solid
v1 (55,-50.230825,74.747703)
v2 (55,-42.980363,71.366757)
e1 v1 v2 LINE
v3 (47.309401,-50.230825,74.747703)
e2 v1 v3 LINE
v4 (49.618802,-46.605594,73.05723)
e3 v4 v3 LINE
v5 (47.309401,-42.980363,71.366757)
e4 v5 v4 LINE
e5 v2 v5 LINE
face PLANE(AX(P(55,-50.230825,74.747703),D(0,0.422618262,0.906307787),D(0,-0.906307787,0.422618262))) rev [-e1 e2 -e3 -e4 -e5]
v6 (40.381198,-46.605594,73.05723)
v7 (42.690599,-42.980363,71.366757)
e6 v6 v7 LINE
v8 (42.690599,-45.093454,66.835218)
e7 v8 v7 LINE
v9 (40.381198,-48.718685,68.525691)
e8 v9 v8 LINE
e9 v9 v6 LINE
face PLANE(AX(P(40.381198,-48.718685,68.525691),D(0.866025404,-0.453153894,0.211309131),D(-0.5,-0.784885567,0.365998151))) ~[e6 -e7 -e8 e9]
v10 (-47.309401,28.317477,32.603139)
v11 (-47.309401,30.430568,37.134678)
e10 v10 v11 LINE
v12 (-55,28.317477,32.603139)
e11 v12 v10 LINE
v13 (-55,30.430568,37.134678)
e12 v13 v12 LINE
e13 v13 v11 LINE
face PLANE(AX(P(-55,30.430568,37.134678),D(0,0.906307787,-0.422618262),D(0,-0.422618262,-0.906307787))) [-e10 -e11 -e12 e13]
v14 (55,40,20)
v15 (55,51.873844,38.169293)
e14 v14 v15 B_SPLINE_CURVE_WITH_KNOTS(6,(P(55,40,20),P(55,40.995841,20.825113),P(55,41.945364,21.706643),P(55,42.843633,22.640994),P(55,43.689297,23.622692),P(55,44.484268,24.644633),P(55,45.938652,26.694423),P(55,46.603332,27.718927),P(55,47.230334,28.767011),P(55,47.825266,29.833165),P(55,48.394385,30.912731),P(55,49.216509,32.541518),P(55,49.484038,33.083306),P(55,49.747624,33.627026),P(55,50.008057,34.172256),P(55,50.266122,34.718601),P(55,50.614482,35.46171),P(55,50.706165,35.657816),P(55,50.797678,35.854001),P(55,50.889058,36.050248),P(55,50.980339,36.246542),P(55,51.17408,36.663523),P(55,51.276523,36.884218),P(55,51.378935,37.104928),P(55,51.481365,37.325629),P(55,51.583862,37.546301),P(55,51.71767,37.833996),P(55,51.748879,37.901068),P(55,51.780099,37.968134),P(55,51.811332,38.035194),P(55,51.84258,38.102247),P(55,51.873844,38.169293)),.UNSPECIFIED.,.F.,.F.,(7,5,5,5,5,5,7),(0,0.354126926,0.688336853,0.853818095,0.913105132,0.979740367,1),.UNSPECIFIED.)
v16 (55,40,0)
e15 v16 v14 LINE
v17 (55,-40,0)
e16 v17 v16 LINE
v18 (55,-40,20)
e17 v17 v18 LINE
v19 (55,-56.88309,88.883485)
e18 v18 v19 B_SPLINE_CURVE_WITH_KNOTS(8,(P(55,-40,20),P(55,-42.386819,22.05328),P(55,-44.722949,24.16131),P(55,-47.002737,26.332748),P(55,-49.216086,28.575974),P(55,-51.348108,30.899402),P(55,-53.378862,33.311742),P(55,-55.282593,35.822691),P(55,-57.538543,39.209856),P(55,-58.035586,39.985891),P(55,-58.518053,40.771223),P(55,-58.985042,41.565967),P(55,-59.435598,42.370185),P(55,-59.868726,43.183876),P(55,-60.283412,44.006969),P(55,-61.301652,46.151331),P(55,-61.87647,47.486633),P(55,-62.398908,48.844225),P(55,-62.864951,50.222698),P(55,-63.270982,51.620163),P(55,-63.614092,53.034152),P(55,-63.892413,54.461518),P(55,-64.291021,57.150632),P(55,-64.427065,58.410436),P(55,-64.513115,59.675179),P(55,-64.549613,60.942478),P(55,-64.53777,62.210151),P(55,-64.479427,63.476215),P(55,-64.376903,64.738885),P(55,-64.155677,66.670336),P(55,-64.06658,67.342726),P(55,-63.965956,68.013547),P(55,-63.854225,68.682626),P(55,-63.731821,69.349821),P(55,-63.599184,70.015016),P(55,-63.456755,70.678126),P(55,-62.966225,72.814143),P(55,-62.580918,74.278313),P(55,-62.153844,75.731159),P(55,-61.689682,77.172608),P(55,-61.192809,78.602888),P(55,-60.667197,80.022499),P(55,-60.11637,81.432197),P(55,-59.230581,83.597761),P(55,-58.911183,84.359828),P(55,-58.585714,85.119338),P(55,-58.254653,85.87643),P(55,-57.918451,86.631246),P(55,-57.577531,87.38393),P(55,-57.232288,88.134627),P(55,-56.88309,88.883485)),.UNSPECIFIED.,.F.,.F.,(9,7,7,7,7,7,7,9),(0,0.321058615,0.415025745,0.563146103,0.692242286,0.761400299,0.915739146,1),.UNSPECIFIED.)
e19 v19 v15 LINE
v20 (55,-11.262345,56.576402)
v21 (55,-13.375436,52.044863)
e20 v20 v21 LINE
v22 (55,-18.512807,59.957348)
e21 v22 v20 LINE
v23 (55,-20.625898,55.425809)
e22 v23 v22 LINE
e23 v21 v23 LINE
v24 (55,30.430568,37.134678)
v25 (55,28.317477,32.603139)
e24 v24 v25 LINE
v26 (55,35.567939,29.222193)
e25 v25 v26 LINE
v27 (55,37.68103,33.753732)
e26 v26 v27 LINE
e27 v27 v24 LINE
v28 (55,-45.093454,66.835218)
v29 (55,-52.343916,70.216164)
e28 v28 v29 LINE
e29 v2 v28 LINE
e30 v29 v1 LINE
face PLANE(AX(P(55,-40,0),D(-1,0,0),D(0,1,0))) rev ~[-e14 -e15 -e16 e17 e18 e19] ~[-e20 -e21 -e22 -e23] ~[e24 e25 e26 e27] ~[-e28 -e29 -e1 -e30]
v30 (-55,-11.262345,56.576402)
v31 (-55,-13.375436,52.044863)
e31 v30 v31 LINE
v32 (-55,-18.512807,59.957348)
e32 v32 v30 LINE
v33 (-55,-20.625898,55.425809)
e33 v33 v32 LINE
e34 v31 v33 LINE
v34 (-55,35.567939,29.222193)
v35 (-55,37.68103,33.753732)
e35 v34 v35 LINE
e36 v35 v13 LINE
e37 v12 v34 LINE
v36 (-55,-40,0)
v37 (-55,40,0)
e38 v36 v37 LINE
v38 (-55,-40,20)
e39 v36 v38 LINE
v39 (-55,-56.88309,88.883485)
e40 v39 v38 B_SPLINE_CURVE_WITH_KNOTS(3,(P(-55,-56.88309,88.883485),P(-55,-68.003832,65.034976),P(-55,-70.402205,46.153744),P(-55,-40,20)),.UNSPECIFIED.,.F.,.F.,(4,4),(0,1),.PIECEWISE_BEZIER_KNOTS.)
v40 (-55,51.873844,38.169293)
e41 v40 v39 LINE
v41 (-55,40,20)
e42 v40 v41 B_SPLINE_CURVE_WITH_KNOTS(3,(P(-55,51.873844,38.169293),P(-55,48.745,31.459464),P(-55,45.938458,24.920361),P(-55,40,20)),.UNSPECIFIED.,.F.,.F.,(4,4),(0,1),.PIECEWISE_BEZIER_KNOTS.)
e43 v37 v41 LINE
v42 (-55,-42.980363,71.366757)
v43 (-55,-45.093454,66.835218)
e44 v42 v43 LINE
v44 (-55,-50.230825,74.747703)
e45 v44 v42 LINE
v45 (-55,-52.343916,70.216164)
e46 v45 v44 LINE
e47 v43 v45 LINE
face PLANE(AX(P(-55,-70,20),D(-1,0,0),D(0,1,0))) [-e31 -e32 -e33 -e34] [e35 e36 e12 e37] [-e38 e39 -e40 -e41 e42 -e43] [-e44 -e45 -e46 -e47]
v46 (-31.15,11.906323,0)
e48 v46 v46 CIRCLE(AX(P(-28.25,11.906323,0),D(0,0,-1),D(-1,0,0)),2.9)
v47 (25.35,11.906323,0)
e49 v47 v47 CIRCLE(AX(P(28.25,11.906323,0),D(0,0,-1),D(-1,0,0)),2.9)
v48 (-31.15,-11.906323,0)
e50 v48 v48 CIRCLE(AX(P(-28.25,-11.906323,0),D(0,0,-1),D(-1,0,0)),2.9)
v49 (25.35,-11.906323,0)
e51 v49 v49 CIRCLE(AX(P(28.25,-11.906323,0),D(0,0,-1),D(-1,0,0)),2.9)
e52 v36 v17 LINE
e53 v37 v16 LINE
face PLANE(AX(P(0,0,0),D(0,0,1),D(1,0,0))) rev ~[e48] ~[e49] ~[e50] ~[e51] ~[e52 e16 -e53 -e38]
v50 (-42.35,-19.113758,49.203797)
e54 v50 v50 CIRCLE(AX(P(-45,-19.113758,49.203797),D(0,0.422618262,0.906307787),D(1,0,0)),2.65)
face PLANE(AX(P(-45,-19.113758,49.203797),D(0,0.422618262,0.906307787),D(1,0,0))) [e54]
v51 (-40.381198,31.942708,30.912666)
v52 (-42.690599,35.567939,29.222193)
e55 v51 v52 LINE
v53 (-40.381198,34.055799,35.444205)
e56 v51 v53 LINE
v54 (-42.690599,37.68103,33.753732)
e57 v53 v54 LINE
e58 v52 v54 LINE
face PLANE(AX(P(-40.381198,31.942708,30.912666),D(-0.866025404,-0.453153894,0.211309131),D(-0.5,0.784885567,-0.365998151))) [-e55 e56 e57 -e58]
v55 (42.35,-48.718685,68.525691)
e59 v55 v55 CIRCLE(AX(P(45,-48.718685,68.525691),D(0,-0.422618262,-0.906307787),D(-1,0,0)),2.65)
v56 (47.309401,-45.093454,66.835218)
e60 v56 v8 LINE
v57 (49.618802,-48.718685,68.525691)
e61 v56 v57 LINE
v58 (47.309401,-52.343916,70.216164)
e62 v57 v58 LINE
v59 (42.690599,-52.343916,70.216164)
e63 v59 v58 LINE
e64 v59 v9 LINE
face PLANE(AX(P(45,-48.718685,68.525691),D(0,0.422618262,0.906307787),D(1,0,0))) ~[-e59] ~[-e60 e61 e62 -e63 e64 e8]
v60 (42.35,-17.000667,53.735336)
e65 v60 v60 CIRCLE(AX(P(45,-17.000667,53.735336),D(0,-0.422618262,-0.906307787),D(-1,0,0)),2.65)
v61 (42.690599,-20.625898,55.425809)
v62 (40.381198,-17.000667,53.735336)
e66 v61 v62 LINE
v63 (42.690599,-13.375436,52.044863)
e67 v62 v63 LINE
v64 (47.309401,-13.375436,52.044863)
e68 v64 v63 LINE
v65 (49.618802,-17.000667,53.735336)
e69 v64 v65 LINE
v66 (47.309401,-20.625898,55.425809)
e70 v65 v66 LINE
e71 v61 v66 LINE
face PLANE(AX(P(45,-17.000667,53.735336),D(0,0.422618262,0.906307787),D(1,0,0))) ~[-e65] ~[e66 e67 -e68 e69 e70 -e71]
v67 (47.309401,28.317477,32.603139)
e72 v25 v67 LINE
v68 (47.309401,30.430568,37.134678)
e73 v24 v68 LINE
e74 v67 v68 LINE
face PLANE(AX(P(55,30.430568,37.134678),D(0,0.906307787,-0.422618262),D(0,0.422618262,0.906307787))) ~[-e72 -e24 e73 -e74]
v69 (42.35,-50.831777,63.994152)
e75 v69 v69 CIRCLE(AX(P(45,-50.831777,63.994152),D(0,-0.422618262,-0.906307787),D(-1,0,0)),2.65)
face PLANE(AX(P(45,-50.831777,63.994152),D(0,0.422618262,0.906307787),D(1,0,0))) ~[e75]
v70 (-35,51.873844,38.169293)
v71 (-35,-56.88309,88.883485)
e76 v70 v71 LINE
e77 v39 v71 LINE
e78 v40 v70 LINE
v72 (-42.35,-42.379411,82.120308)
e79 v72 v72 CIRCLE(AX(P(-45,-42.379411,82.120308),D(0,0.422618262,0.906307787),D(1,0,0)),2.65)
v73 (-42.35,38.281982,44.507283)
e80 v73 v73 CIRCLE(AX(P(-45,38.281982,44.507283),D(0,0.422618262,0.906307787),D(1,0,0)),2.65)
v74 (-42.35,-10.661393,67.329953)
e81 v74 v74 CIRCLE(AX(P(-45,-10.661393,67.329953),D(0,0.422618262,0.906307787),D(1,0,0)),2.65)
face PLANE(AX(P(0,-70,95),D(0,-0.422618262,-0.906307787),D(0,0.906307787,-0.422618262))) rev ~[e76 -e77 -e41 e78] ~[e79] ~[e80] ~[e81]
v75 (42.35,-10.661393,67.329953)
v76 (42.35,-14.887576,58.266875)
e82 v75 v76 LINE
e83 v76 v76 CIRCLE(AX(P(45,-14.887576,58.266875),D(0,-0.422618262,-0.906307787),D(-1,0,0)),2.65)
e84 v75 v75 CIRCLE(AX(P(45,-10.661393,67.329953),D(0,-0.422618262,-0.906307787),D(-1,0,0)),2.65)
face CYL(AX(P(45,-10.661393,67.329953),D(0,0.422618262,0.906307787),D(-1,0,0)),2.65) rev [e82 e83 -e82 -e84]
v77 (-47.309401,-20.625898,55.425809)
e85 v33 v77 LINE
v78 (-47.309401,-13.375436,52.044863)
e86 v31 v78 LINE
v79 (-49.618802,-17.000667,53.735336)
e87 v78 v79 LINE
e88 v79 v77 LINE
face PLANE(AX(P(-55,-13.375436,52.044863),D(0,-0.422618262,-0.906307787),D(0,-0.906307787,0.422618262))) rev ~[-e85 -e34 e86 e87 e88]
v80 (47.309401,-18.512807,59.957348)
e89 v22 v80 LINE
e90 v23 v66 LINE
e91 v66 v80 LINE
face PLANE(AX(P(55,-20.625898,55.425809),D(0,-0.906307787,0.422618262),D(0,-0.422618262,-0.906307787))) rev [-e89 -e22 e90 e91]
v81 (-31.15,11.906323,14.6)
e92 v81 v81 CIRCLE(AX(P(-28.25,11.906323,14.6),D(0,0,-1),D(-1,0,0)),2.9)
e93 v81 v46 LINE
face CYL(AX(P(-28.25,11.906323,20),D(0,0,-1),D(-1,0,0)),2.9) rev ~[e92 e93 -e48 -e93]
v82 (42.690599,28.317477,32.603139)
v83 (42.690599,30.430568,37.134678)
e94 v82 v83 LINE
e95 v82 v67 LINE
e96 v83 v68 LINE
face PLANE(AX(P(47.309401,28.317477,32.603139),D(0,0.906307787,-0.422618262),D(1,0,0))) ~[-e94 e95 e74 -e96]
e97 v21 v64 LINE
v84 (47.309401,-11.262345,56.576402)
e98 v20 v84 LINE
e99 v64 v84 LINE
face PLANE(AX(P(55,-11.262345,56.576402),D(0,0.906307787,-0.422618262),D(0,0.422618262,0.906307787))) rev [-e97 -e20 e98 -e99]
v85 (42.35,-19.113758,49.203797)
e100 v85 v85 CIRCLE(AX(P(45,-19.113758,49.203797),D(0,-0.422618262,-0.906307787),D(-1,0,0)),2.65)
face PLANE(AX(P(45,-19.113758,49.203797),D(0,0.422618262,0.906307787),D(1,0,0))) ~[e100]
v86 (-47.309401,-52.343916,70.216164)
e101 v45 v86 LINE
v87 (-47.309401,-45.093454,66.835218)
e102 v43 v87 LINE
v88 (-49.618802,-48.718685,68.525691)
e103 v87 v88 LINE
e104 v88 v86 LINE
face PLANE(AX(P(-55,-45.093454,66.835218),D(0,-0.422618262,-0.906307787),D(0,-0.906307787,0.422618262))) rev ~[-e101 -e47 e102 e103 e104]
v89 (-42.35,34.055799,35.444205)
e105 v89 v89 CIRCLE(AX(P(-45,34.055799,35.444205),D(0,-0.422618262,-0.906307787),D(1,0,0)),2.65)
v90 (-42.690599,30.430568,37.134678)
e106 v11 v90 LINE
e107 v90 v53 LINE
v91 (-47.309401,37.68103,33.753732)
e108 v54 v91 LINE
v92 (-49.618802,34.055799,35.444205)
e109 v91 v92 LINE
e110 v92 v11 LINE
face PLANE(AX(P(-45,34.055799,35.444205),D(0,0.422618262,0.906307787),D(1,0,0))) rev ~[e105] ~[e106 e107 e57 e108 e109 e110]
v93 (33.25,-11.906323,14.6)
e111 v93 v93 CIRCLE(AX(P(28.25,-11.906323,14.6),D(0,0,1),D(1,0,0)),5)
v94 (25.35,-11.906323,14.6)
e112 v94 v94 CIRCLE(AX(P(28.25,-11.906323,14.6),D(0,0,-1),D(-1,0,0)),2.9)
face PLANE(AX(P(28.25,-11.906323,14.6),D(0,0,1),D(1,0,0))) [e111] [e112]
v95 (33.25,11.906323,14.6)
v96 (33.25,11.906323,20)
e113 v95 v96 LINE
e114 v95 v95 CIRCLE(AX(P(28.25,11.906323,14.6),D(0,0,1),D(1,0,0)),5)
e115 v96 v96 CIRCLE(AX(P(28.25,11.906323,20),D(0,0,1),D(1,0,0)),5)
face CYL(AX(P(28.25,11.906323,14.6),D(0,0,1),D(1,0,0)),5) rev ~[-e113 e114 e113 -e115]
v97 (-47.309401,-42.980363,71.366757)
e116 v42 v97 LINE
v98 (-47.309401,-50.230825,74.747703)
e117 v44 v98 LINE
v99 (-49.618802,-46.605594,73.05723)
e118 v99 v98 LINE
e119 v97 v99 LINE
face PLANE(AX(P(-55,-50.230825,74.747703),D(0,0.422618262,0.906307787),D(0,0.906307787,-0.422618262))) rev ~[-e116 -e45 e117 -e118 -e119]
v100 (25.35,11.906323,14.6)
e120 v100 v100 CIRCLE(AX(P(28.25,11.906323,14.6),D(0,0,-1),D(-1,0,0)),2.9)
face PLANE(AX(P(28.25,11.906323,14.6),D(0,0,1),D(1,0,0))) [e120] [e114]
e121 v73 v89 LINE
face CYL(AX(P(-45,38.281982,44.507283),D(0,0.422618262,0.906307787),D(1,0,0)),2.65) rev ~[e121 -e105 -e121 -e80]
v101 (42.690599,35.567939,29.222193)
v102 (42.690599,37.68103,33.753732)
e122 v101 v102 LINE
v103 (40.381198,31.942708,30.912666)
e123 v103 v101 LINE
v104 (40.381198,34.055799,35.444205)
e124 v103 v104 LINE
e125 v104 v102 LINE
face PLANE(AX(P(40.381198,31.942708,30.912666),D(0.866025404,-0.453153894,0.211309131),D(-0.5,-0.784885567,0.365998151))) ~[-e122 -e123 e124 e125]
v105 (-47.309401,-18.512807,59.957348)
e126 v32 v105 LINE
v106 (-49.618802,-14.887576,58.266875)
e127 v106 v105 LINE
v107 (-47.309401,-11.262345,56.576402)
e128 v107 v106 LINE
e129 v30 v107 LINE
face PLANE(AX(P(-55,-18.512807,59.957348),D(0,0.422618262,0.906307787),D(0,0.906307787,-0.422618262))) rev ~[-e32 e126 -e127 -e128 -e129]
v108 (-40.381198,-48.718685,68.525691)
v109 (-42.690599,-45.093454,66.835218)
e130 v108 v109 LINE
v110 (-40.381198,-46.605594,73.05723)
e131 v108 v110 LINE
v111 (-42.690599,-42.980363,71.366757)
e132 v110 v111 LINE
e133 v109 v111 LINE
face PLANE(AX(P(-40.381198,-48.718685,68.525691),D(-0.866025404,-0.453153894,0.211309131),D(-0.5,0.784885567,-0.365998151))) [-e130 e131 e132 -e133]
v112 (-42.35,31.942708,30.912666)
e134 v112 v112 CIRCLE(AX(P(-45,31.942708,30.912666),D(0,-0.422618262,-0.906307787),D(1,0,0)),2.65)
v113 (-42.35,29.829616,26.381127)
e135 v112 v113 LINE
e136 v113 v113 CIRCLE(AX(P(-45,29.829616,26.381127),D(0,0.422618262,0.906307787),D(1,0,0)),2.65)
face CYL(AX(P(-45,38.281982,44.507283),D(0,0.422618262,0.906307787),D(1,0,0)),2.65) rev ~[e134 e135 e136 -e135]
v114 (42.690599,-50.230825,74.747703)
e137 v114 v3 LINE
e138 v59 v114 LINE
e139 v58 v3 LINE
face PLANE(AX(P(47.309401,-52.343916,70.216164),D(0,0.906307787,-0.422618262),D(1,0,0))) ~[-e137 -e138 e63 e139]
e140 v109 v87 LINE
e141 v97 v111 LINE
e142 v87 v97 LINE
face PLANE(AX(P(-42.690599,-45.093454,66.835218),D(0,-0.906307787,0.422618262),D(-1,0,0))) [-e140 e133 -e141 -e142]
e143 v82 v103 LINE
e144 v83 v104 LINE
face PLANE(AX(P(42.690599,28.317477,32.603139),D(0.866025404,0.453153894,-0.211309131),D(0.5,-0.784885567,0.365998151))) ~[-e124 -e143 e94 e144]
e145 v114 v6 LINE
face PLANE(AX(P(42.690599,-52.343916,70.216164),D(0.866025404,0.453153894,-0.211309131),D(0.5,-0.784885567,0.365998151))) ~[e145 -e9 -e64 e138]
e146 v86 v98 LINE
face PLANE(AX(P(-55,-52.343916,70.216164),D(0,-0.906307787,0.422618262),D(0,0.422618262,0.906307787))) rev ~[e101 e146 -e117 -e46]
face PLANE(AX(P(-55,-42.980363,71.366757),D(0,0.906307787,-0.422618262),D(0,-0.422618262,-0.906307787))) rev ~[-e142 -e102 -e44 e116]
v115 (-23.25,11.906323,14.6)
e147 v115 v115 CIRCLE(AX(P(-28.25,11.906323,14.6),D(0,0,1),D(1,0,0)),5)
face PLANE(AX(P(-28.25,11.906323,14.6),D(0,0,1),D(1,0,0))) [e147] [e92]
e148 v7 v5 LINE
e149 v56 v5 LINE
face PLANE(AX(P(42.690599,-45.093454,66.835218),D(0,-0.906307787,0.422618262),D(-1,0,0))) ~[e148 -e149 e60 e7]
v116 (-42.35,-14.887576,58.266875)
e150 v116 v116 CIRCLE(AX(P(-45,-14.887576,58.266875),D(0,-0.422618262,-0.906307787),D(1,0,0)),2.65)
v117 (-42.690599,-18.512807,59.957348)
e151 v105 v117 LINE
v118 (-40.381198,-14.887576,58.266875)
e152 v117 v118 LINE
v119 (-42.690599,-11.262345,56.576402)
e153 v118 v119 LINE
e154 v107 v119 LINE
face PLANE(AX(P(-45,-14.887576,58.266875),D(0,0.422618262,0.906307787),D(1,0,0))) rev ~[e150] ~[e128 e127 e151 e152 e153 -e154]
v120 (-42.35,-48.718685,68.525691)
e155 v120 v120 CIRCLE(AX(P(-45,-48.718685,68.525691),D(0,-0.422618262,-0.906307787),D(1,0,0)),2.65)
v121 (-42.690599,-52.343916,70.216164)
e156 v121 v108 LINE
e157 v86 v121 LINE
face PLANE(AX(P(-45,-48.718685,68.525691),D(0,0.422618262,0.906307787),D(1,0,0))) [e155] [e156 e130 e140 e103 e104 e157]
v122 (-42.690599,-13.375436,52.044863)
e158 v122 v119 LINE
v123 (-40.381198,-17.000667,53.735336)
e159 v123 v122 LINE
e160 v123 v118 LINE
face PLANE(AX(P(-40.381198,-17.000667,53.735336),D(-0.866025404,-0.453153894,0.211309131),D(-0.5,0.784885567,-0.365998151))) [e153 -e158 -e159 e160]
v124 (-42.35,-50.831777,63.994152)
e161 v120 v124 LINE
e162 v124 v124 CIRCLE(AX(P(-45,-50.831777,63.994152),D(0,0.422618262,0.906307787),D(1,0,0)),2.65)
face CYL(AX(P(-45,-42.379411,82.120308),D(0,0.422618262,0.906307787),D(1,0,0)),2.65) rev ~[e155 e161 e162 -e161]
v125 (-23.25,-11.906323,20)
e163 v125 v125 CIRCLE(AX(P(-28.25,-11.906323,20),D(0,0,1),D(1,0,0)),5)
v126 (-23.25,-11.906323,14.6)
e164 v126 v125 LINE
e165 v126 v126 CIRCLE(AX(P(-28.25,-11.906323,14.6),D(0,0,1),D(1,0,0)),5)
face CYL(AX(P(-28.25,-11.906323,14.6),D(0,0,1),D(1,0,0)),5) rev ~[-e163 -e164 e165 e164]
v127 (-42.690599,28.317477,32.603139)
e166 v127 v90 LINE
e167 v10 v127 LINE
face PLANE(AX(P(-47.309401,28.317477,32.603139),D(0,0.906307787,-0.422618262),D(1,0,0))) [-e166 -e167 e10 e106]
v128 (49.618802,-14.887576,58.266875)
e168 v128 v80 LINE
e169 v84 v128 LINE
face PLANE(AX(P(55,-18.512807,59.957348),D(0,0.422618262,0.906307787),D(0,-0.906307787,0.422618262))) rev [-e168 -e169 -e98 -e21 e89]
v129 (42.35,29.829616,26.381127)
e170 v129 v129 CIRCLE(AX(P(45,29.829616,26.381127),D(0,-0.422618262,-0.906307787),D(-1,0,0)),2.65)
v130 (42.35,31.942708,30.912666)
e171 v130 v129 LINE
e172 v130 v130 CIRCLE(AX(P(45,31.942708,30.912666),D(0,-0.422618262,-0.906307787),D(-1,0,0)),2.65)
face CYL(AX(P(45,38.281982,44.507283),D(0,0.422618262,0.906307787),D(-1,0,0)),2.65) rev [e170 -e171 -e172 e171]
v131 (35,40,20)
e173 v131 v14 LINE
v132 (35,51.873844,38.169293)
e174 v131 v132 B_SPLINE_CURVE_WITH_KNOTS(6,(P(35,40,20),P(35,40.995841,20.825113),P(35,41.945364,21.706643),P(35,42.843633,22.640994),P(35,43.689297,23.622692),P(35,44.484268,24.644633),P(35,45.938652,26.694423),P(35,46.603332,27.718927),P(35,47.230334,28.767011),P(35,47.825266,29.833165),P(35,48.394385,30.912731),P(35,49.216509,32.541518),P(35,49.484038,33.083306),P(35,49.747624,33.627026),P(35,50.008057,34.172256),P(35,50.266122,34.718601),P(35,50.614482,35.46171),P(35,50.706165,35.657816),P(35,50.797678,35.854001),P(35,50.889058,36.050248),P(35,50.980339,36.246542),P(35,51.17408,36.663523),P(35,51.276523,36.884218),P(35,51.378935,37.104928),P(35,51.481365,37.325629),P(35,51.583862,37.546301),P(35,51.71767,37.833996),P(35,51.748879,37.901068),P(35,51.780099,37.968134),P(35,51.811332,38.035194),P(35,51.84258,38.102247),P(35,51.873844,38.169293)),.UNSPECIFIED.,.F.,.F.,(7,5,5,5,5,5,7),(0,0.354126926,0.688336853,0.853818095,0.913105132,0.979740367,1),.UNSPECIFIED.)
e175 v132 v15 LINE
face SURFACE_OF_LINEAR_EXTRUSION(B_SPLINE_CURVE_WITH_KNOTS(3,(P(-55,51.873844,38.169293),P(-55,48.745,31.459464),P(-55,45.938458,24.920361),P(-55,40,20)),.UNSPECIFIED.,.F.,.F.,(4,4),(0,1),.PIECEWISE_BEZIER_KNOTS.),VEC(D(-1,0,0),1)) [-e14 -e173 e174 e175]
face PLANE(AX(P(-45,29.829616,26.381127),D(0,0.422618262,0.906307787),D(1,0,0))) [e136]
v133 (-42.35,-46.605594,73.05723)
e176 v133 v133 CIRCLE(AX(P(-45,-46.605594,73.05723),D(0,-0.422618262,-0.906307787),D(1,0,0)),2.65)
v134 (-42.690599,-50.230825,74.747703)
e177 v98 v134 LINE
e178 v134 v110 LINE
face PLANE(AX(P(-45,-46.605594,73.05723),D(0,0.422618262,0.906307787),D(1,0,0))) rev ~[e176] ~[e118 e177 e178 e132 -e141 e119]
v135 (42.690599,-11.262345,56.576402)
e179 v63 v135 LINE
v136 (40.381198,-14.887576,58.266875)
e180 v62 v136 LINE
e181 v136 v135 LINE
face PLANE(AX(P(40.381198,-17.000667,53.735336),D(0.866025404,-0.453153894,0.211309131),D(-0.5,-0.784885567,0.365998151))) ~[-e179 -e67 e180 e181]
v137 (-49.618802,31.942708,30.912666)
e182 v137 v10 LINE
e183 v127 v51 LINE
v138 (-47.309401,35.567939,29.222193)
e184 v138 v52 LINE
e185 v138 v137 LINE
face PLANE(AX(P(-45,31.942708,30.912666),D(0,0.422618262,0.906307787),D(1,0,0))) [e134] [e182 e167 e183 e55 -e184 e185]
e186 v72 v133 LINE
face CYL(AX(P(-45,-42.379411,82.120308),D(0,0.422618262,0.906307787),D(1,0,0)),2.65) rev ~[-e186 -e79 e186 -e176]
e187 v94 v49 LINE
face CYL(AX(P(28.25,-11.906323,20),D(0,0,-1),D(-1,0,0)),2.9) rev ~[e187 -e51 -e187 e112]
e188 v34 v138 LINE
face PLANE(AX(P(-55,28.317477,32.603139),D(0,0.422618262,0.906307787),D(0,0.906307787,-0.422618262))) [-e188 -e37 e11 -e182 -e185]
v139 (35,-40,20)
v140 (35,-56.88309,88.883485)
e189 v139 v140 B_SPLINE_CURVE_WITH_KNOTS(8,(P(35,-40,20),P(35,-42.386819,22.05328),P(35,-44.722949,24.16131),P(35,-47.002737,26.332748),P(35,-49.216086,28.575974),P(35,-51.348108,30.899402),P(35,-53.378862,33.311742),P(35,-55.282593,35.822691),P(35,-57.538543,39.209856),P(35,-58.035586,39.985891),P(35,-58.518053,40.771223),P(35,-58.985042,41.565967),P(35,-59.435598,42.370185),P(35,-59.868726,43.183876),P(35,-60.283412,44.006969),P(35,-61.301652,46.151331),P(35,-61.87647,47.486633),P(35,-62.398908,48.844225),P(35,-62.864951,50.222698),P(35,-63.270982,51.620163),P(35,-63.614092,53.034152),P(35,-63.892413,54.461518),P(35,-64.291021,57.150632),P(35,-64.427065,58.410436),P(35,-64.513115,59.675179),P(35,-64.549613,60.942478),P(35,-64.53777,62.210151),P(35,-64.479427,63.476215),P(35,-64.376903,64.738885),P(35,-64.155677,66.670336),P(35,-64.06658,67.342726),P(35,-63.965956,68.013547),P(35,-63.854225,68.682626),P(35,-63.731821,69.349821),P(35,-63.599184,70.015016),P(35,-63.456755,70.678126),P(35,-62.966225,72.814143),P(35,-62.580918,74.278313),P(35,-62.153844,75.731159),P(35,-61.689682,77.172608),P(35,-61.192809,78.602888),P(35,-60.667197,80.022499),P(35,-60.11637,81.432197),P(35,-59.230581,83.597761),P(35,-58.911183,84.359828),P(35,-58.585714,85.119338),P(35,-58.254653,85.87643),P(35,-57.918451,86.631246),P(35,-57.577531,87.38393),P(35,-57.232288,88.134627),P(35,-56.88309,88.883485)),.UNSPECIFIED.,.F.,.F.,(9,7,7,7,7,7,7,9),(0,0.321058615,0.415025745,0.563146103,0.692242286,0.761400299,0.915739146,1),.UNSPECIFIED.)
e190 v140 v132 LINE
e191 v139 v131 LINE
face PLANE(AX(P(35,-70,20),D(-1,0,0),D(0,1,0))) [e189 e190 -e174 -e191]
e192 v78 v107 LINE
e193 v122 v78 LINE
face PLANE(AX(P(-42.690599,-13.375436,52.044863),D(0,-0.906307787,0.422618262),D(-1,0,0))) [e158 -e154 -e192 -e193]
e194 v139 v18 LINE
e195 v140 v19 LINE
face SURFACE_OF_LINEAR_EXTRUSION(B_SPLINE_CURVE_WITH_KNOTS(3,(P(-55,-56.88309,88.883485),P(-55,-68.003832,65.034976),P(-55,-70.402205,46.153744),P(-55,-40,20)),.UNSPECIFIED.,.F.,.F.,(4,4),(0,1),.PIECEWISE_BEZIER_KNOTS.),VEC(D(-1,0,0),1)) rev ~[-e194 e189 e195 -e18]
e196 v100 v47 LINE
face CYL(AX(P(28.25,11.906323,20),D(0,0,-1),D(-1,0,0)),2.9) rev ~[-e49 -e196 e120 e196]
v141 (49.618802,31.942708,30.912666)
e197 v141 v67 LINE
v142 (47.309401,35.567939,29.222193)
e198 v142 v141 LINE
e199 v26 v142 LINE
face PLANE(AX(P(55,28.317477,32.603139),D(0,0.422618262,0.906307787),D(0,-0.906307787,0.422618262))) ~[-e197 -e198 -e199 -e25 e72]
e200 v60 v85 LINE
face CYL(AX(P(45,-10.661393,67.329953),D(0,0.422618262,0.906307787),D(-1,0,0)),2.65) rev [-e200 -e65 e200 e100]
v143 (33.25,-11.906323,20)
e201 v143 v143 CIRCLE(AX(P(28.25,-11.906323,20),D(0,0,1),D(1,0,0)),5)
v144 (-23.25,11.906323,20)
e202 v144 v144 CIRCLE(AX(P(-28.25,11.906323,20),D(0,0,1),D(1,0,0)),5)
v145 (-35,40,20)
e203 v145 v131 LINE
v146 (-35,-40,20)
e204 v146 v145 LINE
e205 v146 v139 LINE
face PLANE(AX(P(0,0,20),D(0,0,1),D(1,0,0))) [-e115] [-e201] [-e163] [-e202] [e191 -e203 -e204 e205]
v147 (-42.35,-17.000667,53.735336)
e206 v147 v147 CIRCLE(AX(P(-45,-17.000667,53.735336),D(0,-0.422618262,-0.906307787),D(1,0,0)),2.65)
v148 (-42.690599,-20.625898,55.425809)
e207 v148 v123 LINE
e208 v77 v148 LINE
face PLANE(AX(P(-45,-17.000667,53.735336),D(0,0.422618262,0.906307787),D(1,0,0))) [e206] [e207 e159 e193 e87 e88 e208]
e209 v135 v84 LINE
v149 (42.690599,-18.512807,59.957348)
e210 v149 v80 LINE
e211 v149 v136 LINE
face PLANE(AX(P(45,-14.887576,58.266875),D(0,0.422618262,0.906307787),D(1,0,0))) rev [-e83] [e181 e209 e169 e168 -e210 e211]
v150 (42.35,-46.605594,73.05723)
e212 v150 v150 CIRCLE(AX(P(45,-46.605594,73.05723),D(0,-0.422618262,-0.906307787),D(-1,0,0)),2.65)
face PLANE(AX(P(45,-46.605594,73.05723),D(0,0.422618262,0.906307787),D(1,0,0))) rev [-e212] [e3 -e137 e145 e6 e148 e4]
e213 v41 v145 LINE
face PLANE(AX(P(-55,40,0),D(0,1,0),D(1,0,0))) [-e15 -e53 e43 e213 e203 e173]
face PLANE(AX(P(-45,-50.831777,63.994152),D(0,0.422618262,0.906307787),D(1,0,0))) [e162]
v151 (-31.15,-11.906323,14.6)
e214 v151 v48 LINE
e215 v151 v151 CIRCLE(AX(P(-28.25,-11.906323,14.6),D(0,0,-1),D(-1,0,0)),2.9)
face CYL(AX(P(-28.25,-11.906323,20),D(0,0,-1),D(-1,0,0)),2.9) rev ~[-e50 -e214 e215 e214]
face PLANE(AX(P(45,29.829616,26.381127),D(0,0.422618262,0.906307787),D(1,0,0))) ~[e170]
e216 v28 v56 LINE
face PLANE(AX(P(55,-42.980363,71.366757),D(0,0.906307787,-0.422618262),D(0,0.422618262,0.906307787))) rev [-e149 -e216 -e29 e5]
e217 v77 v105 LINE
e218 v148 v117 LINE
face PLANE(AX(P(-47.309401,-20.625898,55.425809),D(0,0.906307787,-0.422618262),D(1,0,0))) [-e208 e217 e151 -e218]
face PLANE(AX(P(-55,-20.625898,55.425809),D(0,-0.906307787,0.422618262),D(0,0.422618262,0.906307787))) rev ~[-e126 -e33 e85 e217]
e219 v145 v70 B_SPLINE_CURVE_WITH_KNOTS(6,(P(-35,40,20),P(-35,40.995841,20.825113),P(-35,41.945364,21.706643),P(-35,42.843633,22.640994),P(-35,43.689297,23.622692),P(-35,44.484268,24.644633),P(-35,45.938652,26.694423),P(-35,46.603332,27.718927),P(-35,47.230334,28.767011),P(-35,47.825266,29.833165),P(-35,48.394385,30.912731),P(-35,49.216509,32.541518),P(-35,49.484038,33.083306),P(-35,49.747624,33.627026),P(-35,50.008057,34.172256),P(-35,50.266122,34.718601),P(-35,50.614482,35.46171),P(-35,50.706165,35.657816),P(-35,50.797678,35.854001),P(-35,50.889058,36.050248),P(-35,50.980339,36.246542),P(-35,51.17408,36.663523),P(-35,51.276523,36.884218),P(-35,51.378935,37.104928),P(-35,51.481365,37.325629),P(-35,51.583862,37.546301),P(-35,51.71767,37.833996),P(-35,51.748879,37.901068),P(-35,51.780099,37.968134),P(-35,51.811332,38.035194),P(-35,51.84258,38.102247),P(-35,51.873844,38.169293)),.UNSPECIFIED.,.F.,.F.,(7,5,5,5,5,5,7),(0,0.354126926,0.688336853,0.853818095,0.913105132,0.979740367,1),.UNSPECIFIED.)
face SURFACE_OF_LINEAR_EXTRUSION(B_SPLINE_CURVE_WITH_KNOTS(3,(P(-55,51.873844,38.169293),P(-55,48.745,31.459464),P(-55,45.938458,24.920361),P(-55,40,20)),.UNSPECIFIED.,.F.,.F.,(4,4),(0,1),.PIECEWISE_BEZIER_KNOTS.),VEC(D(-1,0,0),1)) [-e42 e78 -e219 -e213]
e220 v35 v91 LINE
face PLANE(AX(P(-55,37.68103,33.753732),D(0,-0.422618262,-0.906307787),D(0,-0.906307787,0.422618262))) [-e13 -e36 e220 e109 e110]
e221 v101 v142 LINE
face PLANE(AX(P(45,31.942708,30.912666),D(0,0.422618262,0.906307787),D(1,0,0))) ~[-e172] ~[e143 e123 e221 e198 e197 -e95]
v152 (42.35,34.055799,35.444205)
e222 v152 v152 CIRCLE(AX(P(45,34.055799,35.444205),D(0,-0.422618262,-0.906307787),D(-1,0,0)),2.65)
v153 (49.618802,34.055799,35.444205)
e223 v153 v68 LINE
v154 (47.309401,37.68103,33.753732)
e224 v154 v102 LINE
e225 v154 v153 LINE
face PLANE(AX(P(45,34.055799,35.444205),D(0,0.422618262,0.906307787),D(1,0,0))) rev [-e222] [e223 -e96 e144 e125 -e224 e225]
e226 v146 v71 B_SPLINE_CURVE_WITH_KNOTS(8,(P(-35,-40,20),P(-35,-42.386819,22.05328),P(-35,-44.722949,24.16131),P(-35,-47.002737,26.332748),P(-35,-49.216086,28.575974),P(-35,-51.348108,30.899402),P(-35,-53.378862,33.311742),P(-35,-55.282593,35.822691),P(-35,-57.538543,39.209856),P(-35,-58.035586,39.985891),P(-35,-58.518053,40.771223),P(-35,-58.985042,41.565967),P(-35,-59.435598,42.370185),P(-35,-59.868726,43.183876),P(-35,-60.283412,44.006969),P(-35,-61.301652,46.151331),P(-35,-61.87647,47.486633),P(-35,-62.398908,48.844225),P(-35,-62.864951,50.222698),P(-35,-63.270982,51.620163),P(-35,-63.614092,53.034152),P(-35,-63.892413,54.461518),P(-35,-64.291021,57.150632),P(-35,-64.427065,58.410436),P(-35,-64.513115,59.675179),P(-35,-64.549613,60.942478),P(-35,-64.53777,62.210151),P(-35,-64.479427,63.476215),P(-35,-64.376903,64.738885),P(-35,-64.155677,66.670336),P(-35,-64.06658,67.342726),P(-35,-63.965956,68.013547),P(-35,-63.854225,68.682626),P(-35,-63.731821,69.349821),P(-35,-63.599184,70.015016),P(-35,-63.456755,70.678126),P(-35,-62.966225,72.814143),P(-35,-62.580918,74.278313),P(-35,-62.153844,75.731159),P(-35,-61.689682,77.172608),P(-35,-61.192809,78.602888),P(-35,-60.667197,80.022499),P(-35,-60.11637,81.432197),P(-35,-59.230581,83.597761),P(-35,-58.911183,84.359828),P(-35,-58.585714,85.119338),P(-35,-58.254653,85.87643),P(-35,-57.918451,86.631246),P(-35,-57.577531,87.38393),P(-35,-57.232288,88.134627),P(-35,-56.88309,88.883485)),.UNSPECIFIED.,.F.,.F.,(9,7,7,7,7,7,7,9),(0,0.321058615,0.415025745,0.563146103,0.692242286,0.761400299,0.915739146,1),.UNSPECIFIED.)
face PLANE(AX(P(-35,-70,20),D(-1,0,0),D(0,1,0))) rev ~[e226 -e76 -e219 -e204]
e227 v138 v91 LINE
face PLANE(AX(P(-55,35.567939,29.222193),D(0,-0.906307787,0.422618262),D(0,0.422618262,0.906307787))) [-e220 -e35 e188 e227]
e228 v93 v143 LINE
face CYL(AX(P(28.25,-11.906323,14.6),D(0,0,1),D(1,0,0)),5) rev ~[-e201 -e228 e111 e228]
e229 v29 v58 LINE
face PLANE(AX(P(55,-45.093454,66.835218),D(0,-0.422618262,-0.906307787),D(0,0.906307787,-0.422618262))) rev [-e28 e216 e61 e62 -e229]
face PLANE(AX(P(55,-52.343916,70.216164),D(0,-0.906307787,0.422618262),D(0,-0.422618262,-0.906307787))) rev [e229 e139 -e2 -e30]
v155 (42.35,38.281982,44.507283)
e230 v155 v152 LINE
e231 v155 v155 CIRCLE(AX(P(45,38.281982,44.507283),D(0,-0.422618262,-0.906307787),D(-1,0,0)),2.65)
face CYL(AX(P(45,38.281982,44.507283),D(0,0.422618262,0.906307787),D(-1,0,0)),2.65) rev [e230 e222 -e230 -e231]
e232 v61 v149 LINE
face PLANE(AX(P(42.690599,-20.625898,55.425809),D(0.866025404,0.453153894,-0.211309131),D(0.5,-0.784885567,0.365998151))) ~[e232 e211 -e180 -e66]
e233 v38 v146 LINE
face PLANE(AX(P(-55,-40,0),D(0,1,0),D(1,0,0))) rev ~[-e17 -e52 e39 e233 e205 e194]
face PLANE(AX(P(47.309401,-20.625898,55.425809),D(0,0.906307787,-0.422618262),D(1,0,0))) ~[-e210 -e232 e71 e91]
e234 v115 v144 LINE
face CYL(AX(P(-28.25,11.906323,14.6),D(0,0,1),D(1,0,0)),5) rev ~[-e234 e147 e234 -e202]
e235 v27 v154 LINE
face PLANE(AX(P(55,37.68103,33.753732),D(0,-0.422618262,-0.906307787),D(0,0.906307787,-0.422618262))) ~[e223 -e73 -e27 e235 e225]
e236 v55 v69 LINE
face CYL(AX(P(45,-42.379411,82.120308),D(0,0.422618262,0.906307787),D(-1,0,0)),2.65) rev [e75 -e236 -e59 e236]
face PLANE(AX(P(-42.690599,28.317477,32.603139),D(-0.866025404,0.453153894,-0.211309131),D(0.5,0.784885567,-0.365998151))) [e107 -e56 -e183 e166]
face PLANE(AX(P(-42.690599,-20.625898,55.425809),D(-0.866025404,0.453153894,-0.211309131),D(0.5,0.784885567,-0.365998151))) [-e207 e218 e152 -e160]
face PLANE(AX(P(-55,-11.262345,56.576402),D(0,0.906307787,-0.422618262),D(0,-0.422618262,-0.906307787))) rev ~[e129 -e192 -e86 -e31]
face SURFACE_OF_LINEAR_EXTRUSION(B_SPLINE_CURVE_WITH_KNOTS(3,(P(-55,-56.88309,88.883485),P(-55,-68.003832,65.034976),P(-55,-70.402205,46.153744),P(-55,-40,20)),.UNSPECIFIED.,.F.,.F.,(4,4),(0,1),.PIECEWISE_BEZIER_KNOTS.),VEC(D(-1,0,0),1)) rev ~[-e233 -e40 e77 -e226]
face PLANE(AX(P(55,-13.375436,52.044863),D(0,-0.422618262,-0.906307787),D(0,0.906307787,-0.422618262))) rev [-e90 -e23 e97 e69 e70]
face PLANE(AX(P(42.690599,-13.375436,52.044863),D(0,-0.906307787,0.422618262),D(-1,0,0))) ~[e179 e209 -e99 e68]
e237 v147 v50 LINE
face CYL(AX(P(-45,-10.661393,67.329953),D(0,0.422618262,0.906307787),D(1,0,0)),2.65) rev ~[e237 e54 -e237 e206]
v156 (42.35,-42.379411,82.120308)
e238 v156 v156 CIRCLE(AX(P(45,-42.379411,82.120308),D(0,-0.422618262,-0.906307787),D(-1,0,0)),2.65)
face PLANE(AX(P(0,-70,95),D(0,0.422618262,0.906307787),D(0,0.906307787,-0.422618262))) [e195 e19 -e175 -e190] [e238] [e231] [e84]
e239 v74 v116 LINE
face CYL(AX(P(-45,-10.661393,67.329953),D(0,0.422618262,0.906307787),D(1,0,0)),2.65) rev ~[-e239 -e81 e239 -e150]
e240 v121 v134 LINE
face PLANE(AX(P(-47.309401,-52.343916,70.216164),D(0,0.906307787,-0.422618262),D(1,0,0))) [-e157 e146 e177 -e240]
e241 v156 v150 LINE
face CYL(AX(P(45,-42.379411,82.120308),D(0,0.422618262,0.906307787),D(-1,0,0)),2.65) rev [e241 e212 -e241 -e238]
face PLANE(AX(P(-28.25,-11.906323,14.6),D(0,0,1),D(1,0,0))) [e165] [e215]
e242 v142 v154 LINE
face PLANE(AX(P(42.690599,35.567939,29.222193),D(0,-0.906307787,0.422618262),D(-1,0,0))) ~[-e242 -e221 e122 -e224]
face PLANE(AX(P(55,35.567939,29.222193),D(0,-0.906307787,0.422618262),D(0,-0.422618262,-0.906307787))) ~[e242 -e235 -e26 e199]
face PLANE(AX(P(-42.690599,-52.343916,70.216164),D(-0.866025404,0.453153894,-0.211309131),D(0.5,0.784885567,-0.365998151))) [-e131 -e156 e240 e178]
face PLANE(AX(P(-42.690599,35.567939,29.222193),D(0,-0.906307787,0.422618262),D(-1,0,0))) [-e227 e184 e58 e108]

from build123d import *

# Parameters (mm, degrees)
SZKIC1_W                                            = 110
SZKIC1_H                                            = 80
DODANIE_WYCI_GNI_CIE1_DEPTH                         = 20
SZKIC4_W                                            = 20
SZKIC4_H                                            = 140
DODANIE_WYCI_GNI_CIE2_DEPTH                         = 75
WYTNIJ_WYCI_GNI_CIE2_DEPTH                          = 56
WYTNIJ_WYCI_GNI_CIE2_DEPTH_BACK                     = 56
POG_BIENIE_WALCOWE_POD_M5_WKR_T_Z_BEM_W_D           = 5.8
POG_BIENIE_WALCOWE_POD_M5_WKR_T_Z_BEM_W_CBORE_D     = 10
POG_BIENIE_WALCOWE_POD_M5_WKR_T_Z_BEM_W_CBORE_DEPTH = 5.4
WYTNIJ_WYCI_GNI_CIE3_DEPTH                          = 111
SZKIC19_R                                           = 2.65
WYTNIJ_WYCI_GNI_CIE4_DEPTH                          = 20
WYTNIJ_WYCI_GNI_CIE5_DEPTH                          = 5
WYTNIJ_WYCI_GNI_CIE6_DEPTH                          = 10


with BuildPart() as part:
    # Szkic1 → Dodanie-wyciągnięcie1 (new body)
    with BuildSketch(Plane.XY):
        Rectangle(SZKIC1_W, SZKIC1_H)
    extrude(amount=DODANIE_WYCI_GNI_CIE1_DEPTH)

    # Szkic4 → Dodanie-wyciągnięcie2 (add)
    with BuildSketch(Plane.XY.offset(20)):
        with Locations((-45, 0)):
            Rectangle(SZKIC4_W, SZKIC4_H)
        with Locations((45, 0)):
            Rectangle(SZKIC4_W, SZKIC4_H)
    extrude(amount=DODANIE_WYCI_GNI_CIE2_DEPTH)

    # Szkic7 → Wytnij-wyciągnięcie2 (cut, two sides)
    with BuildSketch(Plane(origin=(0, 0, 0), x_dir=(0, 0, -1), z_dir=(1, 0, 0))) as wytnij_wyci_gni_cie2_sk:
        Polygon((-95, -70), (-29.716927858, 70), (-95, 70), align=None)
    extrude(amount=WYTNIJ_WYCI_GNI_CIE2_DEPTH, mode=Mode.SUBTRACT)
    extrude(wytnij_wyci_gni_cie2_sk.sketch, amount=-WYTNIJ_WYCI_GNI_CIE2_DEPTH_BACK, mode=Mode.SUBTRACT)

    # Pogłębienie walcowe pod M5 Wkręt z łbem walcowym z gniazdem sześciokątnym2 (through all)
    with Locations(Plane.XY.offset(20)):
        with Locations((-28.25, 11.906323336), (-28.25, -11.906323336), (28.25, -11.906323336), (28.25, 11.906323336)):
            CounterBoreHole(POG_BIENIE_WALCOWE_POD_M5_WKR_T_Z_BEM_W_D / 2, POG_BIENIE_WALCOWE_POD_M5_WKR_T_Z_BEM_W_CBORE_D / 2, POG_BIENIE_WALCOWE_POD_M5_WKR_T_Z_BEM_W_CBORE_DEPTH)

    # Szkic14 → Wytnij-wyciągnięcie3 (cut, through all)
    with BuildSketch(Plane.ZY.offset(55)):
        with BuildLine():
            add(Edge.make_bspline(
                [(38.169293093, 51.873844259), (31.459464211, 48.744999666), (24.920360639, 45.938457736), (20, 40)],
                knots=[0, 0, 0, 0, 1, 1, 1, 1], degree=3))
            Line((38.169293093, 51.873844259), (29.716927858, 70))
            Line((29.716927858, 70), (20, 70))
            Line((20, 70), (20, 40))
        make_face()
        with BuildLine():
            Line((20, -70), (95, -70))
            Line((95, -70), (88.883484502, -56.883090185))
            add(Edge.make_bspline(
                [(88.883484502, -56.883090185), (65.034975945, -68.003832361), (46.153744311, -70.402204642), (20, -40)],
                knots=[0, 0, 0, 0, 1, 1, 1, 1], degree=3))
            Line((20, -40), (20, -70))
        make_face()
    extrude(amount=-WYTNIJ_WYCI_GNI_CIE3_DEPTH, mode=Mode.SUBTRACT)

    # Szkic19 → Wytnij-wyciągnięcie4 (cut)
    with BuildSketch(Plane(origin=(0, 23.884677387, 51.220855951), x_dir=(1, 0, 0), z_dir=(0, 0.422618262, 0.906307787))):
        with Locations((-45, 15.885667625)):
            Circle(SZKIC19_R)
        with Locations((-45, -73.114332375)):
            Circle(SZKIC19_R)
        with Locations((-45, -38.117371303)):
            Circle(SZKIC19_R)
    wytnij_wyci_gni_cie4 = extrude(amount=-WYTNIJ_WYCI_GNI_CIE4_DEPTH, mode=Mode.SUBTRACT)

    # Szkic20 → Wytnij-wyciągnięcie5 (cut)
    with BuildSketch(Plane(origin=(0, 17.545403461, 37.626239145), x_dir=(1, 0, 0), z_dir=(0, 0.422618262, 0.906307787))):
        Polygon((-42.690598923, 19.885667625), (-47.309401077, 19.885667625), (-49.618802154, 15.885667625), (-47.309401077, 11.885667625), (-42.690598923, 11.885667625), (-40.381197846, 15.885667625), align=None)
        Polygon((-42.690598923, -34.117371303), (-47.309401077, -34.117371303), (-49.618802154, -38.117371303), (-47.309401077, -42.117371303), (-42.690598923, -42.117371303), (-40.381197846, -38.117371303), align=None)
        Polygon((-42.690598923, -69.114332375), (-47.309401077, -69.114332375), (-49.618802154, -73.114332375), (-47.309401077, -77.114332375), (-42.690598923, -77.114332375), (-40.381197846, -73.114332375), align=None)
    wytnij_wyci_gni_cie5 = extrude(amount=WYTNIJ_WYCI_GNI_CIE5_DEPTH, mode=Mode.SUBTRACT)

    # Szkic18 → Wytnij-wyciągnięcie6 (cut)
    with BuildSketch(Plane.ZY.offset(55)):
        Polygon((33.753731795, 37.681030189), (37.134677889, 30.430567893), (32.603138954, 28.317476584), (29.22219286, 35.56793888), align=None)
        Polygon((52.044863301, -13.375435824), (55.425809395, -20.625898121), (59.95734833, -18.512806812), (56.576402236, -11.262344516), align=None)
        Polygon((66.835218155, -45.093454166), (70.216164249, -52.343916462), (74.747703184, -50.230825153), (71.36675709, -42.980362857), align=None)
    wytnij_wyci_gni_cie6 = extrude(amount=-WYTNIJ_WYCI_GNI_CIE6_DEPTH, mode=Mode.SUBTRACT)

    # Lustro2: Wytnij-wyciągnięcie4, Wytnij-wyciągnięcie5, Wytnij-wyciągnięcie6 across plane
    add(wytnij_wyci_gni_cie4.mirror(Plane(origin=(0, 0, 0), x_dir=(0, 0, 1), z_dir=(1, 0, 0))), mode=Mode.SUBTRACT)
    add(wytnij_wyci_gni_cie5.mirror(Plane(origin=(0, 0, 0), x_dir=(0, 0, 1), z_dir=(1, 0, 0))), mode=Mode.SUBTRACT)
    add(wytnij_wyci_gni_cie6.mirror(Plane(origin=(0, 0, 0), x_dir=(0, 0, 1), z_dir=(1, 0, 0))), mode=Mode.SUBTRACT)


solid = part.part
